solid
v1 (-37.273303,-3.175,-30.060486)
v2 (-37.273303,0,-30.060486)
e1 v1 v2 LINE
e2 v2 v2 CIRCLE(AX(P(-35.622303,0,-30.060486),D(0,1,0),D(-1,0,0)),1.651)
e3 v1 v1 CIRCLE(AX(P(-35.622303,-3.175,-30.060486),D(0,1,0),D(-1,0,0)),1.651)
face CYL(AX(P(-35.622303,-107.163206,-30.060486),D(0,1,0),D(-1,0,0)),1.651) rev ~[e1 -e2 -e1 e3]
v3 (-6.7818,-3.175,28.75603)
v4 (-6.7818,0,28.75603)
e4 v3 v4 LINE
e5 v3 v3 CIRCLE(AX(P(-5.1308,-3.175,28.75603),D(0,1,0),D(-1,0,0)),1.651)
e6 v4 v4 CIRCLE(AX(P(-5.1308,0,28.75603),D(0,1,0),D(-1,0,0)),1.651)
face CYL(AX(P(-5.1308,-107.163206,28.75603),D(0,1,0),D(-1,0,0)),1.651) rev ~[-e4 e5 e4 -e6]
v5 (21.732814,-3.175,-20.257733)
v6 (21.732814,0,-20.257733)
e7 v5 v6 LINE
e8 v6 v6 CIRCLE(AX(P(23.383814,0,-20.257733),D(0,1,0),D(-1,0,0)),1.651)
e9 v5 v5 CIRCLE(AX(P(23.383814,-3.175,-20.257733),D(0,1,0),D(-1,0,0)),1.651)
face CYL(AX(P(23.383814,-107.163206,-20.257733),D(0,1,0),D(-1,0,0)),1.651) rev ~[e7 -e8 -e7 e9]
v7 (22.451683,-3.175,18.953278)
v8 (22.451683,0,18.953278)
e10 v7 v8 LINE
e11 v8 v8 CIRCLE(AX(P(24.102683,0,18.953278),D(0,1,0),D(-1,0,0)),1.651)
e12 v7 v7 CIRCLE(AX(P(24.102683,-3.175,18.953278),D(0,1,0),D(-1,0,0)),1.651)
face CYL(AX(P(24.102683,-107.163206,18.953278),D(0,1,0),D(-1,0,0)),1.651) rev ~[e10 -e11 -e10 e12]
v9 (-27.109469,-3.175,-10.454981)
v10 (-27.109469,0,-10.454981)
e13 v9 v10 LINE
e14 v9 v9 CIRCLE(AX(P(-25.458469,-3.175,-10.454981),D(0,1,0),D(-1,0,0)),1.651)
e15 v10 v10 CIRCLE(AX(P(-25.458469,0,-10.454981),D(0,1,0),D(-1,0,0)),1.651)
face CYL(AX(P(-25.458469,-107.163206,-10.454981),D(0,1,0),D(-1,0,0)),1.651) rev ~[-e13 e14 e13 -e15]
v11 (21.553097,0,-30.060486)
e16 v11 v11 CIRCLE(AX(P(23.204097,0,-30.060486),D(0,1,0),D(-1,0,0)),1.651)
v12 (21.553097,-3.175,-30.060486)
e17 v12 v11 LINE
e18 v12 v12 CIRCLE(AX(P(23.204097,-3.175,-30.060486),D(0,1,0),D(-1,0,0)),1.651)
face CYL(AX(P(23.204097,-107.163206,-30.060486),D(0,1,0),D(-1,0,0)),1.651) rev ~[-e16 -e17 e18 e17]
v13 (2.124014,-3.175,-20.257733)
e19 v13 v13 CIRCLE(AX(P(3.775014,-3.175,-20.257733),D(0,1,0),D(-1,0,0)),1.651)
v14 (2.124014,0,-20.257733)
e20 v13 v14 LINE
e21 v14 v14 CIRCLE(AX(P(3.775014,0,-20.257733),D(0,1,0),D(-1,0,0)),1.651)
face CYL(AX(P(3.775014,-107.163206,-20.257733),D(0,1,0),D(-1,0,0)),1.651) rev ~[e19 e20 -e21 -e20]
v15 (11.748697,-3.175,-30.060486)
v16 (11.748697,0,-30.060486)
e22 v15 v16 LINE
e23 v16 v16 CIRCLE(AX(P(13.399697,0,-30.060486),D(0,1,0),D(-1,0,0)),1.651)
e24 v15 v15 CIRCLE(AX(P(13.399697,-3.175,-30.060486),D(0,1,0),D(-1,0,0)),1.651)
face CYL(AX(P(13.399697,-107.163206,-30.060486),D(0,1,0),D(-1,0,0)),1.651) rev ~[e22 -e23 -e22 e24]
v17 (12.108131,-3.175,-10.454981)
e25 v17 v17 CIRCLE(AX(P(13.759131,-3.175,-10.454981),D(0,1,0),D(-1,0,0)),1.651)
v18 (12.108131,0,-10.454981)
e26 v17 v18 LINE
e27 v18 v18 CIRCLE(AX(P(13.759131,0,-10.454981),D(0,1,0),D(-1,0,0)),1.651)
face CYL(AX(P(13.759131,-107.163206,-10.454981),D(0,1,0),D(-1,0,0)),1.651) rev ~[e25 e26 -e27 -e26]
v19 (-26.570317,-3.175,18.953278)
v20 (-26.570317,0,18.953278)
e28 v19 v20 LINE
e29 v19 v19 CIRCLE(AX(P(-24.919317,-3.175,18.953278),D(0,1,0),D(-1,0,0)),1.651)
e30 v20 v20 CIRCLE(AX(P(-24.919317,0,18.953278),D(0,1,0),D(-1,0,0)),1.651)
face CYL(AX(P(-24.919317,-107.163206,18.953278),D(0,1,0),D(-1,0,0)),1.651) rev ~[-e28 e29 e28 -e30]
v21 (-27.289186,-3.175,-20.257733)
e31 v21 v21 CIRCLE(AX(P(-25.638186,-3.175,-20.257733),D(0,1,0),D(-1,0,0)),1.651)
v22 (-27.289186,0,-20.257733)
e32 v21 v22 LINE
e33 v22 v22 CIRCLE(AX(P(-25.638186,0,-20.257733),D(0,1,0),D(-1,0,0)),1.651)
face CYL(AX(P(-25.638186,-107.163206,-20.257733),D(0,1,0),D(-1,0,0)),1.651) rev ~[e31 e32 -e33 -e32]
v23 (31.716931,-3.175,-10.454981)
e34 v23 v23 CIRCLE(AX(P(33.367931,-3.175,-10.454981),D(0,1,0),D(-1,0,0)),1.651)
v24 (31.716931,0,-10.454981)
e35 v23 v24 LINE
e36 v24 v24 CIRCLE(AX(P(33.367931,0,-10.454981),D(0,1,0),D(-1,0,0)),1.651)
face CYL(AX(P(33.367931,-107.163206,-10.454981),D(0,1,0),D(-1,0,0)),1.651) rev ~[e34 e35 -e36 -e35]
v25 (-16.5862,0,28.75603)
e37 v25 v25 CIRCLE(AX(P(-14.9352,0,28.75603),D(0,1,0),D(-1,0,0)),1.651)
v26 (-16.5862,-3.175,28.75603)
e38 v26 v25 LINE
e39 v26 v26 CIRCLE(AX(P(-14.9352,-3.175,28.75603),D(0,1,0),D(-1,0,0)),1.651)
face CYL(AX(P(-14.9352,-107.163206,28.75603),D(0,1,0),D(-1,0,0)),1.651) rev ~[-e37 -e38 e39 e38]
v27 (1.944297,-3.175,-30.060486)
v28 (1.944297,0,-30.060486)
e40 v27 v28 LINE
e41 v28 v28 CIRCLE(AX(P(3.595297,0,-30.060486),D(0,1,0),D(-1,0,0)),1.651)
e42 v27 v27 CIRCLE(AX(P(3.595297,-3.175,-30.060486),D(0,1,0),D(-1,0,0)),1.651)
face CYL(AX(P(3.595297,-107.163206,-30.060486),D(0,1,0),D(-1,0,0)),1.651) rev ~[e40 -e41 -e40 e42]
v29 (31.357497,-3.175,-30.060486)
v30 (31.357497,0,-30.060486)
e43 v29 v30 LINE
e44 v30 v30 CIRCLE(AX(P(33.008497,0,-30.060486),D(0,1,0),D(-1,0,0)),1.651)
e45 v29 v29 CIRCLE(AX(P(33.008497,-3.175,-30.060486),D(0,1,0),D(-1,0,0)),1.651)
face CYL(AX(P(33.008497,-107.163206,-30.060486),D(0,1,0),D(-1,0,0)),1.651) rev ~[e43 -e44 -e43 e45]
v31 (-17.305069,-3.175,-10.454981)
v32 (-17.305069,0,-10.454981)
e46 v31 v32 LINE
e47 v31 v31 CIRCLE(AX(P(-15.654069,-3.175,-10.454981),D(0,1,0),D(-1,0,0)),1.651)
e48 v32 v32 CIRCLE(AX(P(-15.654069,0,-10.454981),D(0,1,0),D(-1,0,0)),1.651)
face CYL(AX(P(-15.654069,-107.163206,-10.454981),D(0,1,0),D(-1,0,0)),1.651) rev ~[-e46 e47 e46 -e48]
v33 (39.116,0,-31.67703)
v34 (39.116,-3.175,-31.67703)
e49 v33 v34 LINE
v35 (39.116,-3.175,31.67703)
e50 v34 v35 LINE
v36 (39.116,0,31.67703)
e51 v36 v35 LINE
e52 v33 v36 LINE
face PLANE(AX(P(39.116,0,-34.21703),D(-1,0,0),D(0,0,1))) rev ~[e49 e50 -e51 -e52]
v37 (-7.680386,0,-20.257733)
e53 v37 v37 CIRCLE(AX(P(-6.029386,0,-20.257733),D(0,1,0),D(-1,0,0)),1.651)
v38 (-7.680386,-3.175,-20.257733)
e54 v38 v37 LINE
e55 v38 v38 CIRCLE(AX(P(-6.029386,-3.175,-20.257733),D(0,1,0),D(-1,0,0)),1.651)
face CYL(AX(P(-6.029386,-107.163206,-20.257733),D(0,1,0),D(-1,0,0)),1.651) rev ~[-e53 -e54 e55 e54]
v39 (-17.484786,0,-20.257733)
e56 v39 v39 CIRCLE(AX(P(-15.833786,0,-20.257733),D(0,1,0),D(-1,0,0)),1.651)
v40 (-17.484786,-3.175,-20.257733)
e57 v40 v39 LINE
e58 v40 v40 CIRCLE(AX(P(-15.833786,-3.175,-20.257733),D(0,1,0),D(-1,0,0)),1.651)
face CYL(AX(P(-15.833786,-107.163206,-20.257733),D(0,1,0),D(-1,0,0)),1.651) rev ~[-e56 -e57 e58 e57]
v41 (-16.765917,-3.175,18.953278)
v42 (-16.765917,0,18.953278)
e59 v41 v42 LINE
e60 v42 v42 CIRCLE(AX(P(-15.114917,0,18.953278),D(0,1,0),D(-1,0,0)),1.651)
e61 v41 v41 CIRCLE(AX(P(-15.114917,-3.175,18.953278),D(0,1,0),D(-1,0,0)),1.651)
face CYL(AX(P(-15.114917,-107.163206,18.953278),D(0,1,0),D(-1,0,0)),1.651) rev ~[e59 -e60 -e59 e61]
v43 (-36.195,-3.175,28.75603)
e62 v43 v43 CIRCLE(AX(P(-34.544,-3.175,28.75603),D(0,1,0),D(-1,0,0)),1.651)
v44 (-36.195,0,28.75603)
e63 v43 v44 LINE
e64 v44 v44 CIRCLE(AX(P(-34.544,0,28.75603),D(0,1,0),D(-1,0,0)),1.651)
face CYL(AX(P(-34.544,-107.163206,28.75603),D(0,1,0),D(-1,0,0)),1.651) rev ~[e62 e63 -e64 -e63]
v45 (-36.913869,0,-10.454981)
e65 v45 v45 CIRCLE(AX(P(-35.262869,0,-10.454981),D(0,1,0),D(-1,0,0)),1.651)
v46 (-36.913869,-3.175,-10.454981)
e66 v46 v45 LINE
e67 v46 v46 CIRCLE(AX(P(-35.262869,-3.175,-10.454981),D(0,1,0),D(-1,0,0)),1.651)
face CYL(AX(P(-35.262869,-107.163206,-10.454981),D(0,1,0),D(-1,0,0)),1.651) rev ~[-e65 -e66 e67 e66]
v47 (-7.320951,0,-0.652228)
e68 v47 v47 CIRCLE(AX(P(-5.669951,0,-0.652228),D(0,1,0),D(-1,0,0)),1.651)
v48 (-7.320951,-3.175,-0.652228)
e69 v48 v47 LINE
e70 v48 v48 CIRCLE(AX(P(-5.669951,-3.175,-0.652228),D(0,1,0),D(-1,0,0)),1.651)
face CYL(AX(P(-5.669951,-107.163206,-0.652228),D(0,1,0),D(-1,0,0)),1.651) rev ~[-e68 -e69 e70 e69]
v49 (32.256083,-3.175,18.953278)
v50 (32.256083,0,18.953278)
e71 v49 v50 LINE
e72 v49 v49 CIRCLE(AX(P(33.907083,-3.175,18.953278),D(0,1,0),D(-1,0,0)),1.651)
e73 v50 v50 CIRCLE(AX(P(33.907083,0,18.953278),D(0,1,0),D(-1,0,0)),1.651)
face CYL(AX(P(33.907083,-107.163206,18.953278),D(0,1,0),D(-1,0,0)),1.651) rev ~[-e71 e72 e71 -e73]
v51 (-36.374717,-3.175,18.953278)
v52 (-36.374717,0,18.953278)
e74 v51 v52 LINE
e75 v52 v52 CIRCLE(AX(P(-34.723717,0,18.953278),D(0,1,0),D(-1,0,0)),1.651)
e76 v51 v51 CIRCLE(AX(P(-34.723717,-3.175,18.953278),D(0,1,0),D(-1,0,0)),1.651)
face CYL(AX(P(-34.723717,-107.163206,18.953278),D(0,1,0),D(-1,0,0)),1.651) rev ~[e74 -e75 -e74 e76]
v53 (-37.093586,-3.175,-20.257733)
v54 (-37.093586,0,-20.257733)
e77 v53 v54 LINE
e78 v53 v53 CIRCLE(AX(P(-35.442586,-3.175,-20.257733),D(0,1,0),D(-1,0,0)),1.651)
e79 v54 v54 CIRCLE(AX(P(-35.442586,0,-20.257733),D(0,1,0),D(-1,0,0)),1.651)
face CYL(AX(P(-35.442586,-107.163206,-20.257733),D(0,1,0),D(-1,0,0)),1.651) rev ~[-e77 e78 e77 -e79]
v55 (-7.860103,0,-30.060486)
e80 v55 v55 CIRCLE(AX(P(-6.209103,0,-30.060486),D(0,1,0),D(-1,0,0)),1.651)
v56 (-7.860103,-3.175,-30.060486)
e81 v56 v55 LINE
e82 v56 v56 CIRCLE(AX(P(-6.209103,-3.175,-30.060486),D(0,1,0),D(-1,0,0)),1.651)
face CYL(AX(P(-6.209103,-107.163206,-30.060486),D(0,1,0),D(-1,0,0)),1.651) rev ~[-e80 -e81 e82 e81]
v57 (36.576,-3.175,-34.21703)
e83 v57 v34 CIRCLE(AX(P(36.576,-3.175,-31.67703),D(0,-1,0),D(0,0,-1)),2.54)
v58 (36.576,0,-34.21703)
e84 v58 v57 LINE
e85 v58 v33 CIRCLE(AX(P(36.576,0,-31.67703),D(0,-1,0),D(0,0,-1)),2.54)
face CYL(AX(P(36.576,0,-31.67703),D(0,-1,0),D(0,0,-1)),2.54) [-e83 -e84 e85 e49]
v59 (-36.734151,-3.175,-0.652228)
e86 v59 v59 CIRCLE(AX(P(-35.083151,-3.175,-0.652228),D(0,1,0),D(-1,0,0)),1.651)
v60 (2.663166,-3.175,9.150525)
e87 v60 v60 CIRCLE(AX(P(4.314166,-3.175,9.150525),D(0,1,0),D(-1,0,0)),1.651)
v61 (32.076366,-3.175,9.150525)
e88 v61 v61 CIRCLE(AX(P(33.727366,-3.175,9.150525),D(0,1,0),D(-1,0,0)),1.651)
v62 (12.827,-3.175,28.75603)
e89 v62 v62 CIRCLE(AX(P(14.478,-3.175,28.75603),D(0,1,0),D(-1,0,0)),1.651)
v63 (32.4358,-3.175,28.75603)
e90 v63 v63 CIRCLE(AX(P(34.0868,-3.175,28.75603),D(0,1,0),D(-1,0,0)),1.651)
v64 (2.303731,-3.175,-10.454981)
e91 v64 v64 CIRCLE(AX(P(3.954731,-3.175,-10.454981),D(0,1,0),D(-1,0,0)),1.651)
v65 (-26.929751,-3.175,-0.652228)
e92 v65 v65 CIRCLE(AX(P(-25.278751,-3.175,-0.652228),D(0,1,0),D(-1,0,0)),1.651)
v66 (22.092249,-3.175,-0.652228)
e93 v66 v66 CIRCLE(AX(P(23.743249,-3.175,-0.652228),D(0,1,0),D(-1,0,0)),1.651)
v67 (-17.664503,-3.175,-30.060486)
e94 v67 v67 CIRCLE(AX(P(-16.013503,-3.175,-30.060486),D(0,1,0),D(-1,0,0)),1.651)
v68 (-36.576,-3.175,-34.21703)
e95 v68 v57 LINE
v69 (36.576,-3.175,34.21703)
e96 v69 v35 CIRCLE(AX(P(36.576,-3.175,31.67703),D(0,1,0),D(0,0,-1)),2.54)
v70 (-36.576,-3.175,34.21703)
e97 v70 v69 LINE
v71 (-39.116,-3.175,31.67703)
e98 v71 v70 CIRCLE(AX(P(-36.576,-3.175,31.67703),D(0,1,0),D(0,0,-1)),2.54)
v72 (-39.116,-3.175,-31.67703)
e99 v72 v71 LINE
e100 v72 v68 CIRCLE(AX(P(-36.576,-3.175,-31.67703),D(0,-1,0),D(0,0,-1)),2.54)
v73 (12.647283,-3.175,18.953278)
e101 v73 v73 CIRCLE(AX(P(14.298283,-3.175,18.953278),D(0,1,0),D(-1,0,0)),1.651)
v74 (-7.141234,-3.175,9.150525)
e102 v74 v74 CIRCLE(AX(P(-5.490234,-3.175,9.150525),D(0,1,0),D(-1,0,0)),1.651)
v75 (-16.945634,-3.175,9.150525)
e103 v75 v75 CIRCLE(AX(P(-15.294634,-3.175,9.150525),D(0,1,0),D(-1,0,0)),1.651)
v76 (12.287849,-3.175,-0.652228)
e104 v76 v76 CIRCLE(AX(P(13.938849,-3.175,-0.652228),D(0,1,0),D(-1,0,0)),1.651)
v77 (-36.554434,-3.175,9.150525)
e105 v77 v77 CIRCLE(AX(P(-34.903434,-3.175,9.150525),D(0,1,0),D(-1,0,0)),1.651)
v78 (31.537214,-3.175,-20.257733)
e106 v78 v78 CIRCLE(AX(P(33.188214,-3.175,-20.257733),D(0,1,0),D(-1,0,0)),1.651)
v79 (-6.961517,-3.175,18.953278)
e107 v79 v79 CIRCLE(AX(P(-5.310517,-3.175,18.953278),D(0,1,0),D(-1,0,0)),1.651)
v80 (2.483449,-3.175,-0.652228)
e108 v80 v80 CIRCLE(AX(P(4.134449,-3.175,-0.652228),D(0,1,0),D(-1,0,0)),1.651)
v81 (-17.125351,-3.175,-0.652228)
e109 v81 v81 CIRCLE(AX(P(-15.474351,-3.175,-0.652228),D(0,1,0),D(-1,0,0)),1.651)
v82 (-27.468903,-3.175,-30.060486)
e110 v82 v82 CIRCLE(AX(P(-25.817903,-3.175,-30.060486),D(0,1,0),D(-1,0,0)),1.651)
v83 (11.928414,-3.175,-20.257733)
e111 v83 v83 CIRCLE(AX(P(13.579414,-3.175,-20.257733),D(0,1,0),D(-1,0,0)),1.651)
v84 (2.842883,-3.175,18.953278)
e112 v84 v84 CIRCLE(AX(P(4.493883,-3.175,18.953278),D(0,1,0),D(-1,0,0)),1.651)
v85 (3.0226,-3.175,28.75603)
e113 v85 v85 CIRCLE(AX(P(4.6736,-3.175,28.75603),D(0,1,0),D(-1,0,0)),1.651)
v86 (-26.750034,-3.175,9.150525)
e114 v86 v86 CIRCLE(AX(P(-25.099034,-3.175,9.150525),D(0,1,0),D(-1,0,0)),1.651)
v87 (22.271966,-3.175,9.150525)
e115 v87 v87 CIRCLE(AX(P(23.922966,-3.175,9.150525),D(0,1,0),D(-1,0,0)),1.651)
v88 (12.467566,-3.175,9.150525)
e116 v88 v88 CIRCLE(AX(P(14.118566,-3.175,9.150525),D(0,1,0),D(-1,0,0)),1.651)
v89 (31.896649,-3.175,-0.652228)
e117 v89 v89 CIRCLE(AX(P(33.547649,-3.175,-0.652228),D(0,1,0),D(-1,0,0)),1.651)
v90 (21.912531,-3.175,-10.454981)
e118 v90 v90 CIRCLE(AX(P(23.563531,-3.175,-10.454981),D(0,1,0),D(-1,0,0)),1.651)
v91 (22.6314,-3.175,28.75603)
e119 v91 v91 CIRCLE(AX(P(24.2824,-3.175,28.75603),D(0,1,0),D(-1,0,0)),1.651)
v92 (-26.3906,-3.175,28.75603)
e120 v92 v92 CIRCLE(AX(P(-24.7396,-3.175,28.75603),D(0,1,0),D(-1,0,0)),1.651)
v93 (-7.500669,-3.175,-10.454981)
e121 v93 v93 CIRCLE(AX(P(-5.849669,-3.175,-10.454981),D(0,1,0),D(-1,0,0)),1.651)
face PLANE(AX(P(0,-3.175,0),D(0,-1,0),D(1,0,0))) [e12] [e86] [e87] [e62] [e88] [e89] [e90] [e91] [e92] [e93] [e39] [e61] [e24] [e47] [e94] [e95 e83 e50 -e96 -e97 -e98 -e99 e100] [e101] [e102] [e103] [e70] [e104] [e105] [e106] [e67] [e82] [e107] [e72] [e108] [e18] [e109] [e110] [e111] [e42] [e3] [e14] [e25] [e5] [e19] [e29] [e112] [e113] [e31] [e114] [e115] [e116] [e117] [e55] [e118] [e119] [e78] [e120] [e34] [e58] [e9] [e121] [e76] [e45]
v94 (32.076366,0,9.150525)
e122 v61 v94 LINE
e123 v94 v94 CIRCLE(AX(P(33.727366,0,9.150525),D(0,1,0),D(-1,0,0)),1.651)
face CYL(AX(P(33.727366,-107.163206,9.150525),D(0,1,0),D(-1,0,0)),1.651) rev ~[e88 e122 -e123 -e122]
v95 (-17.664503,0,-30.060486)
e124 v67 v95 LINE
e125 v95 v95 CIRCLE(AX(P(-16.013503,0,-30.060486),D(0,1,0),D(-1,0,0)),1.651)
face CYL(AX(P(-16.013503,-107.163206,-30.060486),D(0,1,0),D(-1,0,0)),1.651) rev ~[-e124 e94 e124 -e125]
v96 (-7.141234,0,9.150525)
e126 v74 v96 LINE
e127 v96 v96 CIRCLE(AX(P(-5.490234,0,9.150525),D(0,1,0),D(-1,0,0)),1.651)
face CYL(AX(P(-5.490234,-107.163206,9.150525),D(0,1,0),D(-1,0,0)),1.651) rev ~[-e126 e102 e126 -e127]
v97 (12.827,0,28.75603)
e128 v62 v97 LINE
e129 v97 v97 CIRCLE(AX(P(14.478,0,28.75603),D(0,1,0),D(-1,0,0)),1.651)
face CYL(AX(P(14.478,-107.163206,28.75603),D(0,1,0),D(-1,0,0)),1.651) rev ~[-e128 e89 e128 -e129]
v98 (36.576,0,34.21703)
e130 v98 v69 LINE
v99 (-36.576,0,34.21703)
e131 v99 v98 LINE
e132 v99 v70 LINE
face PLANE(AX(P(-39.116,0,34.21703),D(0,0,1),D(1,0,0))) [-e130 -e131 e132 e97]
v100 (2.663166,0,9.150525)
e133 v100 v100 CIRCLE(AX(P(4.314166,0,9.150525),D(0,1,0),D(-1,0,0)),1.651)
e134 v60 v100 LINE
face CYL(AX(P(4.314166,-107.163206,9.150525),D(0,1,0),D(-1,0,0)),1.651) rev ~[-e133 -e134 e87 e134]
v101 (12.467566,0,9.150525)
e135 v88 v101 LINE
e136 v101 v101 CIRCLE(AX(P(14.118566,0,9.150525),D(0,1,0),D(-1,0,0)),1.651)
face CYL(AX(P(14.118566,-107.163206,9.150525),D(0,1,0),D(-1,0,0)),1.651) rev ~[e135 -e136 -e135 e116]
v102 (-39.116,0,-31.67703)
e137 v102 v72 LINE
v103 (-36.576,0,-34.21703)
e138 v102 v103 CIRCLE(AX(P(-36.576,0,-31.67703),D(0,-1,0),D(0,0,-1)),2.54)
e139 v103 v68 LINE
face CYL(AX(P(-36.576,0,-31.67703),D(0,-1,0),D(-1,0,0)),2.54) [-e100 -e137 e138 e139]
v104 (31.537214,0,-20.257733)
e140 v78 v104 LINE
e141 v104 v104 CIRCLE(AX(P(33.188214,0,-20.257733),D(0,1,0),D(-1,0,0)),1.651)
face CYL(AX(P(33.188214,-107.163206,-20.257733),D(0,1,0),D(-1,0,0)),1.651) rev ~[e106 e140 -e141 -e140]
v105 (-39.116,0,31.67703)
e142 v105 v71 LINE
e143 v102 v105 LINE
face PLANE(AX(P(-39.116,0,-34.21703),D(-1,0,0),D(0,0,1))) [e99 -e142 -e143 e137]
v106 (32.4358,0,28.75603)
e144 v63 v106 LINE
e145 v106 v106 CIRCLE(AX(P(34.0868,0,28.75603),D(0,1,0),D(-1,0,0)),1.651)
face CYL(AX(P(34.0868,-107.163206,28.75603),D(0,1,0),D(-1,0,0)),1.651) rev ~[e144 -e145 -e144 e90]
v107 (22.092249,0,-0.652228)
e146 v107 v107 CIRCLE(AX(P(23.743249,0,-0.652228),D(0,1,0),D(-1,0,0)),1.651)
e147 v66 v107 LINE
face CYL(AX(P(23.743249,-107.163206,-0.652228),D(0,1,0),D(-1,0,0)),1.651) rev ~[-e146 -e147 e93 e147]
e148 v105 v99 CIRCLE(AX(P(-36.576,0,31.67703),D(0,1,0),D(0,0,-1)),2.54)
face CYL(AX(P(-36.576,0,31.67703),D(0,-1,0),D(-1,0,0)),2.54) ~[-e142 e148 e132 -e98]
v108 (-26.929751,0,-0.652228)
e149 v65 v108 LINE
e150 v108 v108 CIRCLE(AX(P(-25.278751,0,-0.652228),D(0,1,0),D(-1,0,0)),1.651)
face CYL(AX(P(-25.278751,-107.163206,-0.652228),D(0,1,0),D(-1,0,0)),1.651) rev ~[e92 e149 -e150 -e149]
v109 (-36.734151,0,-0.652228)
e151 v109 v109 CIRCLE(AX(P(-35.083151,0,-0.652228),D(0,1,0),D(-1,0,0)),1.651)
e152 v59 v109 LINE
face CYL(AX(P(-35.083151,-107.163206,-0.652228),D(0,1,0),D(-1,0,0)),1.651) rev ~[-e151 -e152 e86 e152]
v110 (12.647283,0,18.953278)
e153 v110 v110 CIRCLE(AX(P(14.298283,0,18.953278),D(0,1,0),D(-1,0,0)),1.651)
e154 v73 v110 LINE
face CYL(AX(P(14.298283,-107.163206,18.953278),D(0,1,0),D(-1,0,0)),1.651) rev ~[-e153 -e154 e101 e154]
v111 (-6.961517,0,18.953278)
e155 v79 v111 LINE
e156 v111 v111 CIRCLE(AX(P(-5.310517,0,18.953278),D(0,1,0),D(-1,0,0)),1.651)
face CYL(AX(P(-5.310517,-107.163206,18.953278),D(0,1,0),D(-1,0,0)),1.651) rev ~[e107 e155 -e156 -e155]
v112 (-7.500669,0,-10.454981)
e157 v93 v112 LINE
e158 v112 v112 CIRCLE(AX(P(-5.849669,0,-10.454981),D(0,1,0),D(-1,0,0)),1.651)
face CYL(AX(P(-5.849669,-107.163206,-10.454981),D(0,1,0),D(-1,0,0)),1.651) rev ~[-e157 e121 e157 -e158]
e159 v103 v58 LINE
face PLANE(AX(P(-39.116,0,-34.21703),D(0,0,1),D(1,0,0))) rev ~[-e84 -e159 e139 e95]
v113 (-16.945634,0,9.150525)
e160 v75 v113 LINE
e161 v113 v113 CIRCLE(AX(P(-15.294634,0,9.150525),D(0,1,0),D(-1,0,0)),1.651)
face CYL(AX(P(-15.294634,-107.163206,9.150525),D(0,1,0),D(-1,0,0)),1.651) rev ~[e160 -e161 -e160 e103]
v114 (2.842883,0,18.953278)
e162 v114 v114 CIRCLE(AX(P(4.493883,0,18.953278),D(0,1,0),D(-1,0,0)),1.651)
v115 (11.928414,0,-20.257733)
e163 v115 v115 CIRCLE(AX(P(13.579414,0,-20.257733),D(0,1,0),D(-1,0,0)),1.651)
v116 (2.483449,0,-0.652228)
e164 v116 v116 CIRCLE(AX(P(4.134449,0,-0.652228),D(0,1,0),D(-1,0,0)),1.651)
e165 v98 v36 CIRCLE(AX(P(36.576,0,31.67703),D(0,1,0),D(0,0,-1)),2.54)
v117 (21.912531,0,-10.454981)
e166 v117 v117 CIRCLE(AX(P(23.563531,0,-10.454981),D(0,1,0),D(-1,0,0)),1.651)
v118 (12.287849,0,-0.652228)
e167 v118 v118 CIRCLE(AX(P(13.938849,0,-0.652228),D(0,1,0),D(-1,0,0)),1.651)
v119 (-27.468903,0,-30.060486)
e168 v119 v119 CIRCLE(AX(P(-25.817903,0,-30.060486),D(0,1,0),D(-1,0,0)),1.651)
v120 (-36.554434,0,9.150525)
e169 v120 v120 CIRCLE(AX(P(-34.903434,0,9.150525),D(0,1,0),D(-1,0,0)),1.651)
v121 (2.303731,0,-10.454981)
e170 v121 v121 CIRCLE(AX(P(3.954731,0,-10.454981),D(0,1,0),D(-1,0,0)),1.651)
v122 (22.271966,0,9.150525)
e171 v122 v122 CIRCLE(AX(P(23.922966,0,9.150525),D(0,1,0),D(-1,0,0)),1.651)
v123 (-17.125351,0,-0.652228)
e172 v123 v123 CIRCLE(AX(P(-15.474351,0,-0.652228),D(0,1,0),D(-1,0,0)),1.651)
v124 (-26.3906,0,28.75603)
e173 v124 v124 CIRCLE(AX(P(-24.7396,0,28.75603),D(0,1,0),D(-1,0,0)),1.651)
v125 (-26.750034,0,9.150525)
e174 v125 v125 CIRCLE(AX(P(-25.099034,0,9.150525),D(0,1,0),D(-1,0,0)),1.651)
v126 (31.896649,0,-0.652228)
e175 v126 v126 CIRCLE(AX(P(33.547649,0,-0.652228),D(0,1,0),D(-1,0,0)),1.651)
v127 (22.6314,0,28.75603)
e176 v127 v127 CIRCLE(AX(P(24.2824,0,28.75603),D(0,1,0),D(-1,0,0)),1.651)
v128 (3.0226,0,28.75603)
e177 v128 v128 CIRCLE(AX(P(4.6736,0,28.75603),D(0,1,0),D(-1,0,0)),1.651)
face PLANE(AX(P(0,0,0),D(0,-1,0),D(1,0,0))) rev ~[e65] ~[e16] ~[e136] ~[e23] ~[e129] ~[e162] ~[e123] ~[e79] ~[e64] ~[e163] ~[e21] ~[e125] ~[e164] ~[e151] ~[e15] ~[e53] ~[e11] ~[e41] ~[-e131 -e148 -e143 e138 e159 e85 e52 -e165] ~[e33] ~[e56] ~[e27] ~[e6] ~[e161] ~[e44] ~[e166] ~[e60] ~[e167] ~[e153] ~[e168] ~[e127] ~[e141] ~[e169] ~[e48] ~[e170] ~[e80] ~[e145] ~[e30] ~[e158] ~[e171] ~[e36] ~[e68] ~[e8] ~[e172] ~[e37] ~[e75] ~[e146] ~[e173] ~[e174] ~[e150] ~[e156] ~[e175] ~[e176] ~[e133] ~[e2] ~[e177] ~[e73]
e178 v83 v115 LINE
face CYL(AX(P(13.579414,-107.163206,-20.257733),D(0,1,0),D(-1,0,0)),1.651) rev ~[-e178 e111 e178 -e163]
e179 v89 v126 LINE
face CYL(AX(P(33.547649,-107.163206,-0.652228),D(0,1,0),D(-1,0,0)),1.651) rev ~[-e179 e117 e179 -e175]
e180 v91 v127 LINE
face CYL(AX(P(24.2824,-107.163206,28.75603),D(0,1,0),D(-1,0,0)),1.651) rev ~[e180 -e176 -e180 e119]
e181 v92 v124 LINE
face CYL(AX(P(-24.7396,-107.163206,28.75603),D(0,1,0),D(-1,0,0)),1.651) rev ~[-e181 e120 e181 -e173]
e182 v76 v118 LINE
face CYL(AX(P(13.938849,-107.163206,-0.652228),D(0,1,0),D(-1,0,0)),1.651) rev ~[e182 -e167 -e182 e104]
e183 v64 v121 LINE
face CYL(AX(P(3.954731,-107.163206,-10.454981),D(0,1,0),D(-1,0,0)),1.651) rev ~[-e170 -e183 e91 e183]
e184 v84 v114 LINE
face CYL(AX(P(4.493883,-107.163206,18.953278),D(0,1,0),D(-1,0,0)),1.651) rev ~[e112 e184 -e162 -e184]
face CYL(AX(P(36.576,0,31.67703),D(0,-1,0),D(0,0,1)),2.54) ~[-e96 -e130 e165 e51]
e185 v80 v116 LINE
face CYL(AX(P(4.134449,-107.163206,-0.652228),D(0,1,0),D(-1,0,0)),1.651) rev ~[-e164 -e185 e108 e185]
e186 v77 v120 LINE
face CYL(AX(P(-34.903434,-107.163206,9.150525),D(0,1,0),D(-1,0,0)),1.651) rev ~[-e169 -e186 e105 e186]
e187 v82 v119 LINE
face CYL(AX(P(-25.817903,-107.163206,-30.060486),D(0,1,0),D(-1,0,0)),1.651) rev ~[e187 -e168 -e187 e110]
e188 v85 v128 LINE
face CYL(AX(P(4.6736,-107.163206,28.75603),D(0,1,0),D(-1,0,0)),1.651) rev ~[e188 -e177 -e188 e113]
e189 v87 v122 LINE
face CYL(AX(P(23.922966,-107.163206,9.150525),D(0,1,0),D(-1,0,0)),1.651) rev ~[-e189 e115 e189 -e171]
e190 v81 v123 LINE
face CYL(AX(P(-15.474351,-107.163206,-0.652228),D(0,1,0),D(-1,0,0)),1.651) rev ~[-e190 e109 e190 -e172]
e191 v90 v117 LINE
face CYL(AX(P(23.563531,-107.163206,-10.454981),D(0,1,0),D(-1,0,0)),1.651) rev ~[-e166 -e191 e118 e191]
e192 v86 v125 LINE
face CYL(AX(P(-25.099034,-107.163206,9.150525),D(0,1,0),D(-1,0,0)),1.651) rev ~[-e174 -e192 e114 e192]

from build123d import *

# Parameters (mm, degrees)
F0_W     = 78.232
F0_H     = 68.43406
F1_DEPTH = 3.175
F3_D     = 3.302
F4_R     = 2.54


with BuildPart() as f1:
    # F0 (on Front) → F1 (new body)
    with BuildSketch(Plane.XZ):
        Rectangle(F0_W, F0_H)
    extrude(amount=F1_DEPTH)

    # F3 (through all)
    with Locations(Plane.XZ.offset(3.175)):
        with Locations((3.775014, -20.257733), (33.008497, -30.060486), (-24.919317, 18.953278), (-6.029386, -20.257733), (33.547649, -0.652228), (-25.817903, -30.060486), (-15.654069, -10.454981), (23.743249, -0.652228), (-5.849669, -10.454981), (-5.669951, -0.652228), (14.478, 28.75603), (4.134449, -0.652228), (-35.622303, -30.060486), (3.954731, -10.454981), (33.727366, 9.150525), (24.102683, 18.953278), (-34.903434, 9.150525), (-35.442586, -20.257733), (-25.638186, -20.257733), (34.0868, 28.75603), (24.2824, 28.75603), (4.6736, 28.75603), (-5.1308, 28.75603), (33.907083, 18.953278), (-5.490234, 9.150525), (13.399697, -30.060486), (-14.9352, 28.75603), (-24.7396, 28.75603), (-35.262869, -10.454981), (-25.458469, -10.454981), (4.314166, 9.150525), (-5.310517, 18.953278), (23.204097, -30.060486), (13.579414, -20.257733), (-35.083151, -0.652228), (4.493883, 18.953278), (-16.013503, -30.060486), (13.759131, -10.454981), (23.383814, -20.257733), (-25.278751, -0.652228), (-15.474351, -0.652228), (14.298283, 18.953278), (33.188214, -20.257733), (-6.209103, -30.060486), (-15.833786, -20.257733), (-34.544, 28.75603), (13.938849, -0.652228), (23.563531, -10.454981), (-25.099034, 9.150525), (-15.294634, 9.150525), (3.595297, -30.060486), (33.367931, -10.454981), (-34.723717, 18.953278), (23.922966, 9.150525), (-15.114917, 18.953278), (14.118566, 9.150525)):
            Hole(F3_D / 2)

    # F4
    f4_edges = [f1.edges().sort_by_distance(p)[0] for p in [
        (-39.116, -1.5875, 34.21703),
        (-39.116, -1.5875, -34.21703),
        (39.116, -1.5875, -34.21703),
        (39.116, -1.5875, 34.21703),
    ]]
    fillet(f4_edges, radius=F4_R)


solid = f1.part
